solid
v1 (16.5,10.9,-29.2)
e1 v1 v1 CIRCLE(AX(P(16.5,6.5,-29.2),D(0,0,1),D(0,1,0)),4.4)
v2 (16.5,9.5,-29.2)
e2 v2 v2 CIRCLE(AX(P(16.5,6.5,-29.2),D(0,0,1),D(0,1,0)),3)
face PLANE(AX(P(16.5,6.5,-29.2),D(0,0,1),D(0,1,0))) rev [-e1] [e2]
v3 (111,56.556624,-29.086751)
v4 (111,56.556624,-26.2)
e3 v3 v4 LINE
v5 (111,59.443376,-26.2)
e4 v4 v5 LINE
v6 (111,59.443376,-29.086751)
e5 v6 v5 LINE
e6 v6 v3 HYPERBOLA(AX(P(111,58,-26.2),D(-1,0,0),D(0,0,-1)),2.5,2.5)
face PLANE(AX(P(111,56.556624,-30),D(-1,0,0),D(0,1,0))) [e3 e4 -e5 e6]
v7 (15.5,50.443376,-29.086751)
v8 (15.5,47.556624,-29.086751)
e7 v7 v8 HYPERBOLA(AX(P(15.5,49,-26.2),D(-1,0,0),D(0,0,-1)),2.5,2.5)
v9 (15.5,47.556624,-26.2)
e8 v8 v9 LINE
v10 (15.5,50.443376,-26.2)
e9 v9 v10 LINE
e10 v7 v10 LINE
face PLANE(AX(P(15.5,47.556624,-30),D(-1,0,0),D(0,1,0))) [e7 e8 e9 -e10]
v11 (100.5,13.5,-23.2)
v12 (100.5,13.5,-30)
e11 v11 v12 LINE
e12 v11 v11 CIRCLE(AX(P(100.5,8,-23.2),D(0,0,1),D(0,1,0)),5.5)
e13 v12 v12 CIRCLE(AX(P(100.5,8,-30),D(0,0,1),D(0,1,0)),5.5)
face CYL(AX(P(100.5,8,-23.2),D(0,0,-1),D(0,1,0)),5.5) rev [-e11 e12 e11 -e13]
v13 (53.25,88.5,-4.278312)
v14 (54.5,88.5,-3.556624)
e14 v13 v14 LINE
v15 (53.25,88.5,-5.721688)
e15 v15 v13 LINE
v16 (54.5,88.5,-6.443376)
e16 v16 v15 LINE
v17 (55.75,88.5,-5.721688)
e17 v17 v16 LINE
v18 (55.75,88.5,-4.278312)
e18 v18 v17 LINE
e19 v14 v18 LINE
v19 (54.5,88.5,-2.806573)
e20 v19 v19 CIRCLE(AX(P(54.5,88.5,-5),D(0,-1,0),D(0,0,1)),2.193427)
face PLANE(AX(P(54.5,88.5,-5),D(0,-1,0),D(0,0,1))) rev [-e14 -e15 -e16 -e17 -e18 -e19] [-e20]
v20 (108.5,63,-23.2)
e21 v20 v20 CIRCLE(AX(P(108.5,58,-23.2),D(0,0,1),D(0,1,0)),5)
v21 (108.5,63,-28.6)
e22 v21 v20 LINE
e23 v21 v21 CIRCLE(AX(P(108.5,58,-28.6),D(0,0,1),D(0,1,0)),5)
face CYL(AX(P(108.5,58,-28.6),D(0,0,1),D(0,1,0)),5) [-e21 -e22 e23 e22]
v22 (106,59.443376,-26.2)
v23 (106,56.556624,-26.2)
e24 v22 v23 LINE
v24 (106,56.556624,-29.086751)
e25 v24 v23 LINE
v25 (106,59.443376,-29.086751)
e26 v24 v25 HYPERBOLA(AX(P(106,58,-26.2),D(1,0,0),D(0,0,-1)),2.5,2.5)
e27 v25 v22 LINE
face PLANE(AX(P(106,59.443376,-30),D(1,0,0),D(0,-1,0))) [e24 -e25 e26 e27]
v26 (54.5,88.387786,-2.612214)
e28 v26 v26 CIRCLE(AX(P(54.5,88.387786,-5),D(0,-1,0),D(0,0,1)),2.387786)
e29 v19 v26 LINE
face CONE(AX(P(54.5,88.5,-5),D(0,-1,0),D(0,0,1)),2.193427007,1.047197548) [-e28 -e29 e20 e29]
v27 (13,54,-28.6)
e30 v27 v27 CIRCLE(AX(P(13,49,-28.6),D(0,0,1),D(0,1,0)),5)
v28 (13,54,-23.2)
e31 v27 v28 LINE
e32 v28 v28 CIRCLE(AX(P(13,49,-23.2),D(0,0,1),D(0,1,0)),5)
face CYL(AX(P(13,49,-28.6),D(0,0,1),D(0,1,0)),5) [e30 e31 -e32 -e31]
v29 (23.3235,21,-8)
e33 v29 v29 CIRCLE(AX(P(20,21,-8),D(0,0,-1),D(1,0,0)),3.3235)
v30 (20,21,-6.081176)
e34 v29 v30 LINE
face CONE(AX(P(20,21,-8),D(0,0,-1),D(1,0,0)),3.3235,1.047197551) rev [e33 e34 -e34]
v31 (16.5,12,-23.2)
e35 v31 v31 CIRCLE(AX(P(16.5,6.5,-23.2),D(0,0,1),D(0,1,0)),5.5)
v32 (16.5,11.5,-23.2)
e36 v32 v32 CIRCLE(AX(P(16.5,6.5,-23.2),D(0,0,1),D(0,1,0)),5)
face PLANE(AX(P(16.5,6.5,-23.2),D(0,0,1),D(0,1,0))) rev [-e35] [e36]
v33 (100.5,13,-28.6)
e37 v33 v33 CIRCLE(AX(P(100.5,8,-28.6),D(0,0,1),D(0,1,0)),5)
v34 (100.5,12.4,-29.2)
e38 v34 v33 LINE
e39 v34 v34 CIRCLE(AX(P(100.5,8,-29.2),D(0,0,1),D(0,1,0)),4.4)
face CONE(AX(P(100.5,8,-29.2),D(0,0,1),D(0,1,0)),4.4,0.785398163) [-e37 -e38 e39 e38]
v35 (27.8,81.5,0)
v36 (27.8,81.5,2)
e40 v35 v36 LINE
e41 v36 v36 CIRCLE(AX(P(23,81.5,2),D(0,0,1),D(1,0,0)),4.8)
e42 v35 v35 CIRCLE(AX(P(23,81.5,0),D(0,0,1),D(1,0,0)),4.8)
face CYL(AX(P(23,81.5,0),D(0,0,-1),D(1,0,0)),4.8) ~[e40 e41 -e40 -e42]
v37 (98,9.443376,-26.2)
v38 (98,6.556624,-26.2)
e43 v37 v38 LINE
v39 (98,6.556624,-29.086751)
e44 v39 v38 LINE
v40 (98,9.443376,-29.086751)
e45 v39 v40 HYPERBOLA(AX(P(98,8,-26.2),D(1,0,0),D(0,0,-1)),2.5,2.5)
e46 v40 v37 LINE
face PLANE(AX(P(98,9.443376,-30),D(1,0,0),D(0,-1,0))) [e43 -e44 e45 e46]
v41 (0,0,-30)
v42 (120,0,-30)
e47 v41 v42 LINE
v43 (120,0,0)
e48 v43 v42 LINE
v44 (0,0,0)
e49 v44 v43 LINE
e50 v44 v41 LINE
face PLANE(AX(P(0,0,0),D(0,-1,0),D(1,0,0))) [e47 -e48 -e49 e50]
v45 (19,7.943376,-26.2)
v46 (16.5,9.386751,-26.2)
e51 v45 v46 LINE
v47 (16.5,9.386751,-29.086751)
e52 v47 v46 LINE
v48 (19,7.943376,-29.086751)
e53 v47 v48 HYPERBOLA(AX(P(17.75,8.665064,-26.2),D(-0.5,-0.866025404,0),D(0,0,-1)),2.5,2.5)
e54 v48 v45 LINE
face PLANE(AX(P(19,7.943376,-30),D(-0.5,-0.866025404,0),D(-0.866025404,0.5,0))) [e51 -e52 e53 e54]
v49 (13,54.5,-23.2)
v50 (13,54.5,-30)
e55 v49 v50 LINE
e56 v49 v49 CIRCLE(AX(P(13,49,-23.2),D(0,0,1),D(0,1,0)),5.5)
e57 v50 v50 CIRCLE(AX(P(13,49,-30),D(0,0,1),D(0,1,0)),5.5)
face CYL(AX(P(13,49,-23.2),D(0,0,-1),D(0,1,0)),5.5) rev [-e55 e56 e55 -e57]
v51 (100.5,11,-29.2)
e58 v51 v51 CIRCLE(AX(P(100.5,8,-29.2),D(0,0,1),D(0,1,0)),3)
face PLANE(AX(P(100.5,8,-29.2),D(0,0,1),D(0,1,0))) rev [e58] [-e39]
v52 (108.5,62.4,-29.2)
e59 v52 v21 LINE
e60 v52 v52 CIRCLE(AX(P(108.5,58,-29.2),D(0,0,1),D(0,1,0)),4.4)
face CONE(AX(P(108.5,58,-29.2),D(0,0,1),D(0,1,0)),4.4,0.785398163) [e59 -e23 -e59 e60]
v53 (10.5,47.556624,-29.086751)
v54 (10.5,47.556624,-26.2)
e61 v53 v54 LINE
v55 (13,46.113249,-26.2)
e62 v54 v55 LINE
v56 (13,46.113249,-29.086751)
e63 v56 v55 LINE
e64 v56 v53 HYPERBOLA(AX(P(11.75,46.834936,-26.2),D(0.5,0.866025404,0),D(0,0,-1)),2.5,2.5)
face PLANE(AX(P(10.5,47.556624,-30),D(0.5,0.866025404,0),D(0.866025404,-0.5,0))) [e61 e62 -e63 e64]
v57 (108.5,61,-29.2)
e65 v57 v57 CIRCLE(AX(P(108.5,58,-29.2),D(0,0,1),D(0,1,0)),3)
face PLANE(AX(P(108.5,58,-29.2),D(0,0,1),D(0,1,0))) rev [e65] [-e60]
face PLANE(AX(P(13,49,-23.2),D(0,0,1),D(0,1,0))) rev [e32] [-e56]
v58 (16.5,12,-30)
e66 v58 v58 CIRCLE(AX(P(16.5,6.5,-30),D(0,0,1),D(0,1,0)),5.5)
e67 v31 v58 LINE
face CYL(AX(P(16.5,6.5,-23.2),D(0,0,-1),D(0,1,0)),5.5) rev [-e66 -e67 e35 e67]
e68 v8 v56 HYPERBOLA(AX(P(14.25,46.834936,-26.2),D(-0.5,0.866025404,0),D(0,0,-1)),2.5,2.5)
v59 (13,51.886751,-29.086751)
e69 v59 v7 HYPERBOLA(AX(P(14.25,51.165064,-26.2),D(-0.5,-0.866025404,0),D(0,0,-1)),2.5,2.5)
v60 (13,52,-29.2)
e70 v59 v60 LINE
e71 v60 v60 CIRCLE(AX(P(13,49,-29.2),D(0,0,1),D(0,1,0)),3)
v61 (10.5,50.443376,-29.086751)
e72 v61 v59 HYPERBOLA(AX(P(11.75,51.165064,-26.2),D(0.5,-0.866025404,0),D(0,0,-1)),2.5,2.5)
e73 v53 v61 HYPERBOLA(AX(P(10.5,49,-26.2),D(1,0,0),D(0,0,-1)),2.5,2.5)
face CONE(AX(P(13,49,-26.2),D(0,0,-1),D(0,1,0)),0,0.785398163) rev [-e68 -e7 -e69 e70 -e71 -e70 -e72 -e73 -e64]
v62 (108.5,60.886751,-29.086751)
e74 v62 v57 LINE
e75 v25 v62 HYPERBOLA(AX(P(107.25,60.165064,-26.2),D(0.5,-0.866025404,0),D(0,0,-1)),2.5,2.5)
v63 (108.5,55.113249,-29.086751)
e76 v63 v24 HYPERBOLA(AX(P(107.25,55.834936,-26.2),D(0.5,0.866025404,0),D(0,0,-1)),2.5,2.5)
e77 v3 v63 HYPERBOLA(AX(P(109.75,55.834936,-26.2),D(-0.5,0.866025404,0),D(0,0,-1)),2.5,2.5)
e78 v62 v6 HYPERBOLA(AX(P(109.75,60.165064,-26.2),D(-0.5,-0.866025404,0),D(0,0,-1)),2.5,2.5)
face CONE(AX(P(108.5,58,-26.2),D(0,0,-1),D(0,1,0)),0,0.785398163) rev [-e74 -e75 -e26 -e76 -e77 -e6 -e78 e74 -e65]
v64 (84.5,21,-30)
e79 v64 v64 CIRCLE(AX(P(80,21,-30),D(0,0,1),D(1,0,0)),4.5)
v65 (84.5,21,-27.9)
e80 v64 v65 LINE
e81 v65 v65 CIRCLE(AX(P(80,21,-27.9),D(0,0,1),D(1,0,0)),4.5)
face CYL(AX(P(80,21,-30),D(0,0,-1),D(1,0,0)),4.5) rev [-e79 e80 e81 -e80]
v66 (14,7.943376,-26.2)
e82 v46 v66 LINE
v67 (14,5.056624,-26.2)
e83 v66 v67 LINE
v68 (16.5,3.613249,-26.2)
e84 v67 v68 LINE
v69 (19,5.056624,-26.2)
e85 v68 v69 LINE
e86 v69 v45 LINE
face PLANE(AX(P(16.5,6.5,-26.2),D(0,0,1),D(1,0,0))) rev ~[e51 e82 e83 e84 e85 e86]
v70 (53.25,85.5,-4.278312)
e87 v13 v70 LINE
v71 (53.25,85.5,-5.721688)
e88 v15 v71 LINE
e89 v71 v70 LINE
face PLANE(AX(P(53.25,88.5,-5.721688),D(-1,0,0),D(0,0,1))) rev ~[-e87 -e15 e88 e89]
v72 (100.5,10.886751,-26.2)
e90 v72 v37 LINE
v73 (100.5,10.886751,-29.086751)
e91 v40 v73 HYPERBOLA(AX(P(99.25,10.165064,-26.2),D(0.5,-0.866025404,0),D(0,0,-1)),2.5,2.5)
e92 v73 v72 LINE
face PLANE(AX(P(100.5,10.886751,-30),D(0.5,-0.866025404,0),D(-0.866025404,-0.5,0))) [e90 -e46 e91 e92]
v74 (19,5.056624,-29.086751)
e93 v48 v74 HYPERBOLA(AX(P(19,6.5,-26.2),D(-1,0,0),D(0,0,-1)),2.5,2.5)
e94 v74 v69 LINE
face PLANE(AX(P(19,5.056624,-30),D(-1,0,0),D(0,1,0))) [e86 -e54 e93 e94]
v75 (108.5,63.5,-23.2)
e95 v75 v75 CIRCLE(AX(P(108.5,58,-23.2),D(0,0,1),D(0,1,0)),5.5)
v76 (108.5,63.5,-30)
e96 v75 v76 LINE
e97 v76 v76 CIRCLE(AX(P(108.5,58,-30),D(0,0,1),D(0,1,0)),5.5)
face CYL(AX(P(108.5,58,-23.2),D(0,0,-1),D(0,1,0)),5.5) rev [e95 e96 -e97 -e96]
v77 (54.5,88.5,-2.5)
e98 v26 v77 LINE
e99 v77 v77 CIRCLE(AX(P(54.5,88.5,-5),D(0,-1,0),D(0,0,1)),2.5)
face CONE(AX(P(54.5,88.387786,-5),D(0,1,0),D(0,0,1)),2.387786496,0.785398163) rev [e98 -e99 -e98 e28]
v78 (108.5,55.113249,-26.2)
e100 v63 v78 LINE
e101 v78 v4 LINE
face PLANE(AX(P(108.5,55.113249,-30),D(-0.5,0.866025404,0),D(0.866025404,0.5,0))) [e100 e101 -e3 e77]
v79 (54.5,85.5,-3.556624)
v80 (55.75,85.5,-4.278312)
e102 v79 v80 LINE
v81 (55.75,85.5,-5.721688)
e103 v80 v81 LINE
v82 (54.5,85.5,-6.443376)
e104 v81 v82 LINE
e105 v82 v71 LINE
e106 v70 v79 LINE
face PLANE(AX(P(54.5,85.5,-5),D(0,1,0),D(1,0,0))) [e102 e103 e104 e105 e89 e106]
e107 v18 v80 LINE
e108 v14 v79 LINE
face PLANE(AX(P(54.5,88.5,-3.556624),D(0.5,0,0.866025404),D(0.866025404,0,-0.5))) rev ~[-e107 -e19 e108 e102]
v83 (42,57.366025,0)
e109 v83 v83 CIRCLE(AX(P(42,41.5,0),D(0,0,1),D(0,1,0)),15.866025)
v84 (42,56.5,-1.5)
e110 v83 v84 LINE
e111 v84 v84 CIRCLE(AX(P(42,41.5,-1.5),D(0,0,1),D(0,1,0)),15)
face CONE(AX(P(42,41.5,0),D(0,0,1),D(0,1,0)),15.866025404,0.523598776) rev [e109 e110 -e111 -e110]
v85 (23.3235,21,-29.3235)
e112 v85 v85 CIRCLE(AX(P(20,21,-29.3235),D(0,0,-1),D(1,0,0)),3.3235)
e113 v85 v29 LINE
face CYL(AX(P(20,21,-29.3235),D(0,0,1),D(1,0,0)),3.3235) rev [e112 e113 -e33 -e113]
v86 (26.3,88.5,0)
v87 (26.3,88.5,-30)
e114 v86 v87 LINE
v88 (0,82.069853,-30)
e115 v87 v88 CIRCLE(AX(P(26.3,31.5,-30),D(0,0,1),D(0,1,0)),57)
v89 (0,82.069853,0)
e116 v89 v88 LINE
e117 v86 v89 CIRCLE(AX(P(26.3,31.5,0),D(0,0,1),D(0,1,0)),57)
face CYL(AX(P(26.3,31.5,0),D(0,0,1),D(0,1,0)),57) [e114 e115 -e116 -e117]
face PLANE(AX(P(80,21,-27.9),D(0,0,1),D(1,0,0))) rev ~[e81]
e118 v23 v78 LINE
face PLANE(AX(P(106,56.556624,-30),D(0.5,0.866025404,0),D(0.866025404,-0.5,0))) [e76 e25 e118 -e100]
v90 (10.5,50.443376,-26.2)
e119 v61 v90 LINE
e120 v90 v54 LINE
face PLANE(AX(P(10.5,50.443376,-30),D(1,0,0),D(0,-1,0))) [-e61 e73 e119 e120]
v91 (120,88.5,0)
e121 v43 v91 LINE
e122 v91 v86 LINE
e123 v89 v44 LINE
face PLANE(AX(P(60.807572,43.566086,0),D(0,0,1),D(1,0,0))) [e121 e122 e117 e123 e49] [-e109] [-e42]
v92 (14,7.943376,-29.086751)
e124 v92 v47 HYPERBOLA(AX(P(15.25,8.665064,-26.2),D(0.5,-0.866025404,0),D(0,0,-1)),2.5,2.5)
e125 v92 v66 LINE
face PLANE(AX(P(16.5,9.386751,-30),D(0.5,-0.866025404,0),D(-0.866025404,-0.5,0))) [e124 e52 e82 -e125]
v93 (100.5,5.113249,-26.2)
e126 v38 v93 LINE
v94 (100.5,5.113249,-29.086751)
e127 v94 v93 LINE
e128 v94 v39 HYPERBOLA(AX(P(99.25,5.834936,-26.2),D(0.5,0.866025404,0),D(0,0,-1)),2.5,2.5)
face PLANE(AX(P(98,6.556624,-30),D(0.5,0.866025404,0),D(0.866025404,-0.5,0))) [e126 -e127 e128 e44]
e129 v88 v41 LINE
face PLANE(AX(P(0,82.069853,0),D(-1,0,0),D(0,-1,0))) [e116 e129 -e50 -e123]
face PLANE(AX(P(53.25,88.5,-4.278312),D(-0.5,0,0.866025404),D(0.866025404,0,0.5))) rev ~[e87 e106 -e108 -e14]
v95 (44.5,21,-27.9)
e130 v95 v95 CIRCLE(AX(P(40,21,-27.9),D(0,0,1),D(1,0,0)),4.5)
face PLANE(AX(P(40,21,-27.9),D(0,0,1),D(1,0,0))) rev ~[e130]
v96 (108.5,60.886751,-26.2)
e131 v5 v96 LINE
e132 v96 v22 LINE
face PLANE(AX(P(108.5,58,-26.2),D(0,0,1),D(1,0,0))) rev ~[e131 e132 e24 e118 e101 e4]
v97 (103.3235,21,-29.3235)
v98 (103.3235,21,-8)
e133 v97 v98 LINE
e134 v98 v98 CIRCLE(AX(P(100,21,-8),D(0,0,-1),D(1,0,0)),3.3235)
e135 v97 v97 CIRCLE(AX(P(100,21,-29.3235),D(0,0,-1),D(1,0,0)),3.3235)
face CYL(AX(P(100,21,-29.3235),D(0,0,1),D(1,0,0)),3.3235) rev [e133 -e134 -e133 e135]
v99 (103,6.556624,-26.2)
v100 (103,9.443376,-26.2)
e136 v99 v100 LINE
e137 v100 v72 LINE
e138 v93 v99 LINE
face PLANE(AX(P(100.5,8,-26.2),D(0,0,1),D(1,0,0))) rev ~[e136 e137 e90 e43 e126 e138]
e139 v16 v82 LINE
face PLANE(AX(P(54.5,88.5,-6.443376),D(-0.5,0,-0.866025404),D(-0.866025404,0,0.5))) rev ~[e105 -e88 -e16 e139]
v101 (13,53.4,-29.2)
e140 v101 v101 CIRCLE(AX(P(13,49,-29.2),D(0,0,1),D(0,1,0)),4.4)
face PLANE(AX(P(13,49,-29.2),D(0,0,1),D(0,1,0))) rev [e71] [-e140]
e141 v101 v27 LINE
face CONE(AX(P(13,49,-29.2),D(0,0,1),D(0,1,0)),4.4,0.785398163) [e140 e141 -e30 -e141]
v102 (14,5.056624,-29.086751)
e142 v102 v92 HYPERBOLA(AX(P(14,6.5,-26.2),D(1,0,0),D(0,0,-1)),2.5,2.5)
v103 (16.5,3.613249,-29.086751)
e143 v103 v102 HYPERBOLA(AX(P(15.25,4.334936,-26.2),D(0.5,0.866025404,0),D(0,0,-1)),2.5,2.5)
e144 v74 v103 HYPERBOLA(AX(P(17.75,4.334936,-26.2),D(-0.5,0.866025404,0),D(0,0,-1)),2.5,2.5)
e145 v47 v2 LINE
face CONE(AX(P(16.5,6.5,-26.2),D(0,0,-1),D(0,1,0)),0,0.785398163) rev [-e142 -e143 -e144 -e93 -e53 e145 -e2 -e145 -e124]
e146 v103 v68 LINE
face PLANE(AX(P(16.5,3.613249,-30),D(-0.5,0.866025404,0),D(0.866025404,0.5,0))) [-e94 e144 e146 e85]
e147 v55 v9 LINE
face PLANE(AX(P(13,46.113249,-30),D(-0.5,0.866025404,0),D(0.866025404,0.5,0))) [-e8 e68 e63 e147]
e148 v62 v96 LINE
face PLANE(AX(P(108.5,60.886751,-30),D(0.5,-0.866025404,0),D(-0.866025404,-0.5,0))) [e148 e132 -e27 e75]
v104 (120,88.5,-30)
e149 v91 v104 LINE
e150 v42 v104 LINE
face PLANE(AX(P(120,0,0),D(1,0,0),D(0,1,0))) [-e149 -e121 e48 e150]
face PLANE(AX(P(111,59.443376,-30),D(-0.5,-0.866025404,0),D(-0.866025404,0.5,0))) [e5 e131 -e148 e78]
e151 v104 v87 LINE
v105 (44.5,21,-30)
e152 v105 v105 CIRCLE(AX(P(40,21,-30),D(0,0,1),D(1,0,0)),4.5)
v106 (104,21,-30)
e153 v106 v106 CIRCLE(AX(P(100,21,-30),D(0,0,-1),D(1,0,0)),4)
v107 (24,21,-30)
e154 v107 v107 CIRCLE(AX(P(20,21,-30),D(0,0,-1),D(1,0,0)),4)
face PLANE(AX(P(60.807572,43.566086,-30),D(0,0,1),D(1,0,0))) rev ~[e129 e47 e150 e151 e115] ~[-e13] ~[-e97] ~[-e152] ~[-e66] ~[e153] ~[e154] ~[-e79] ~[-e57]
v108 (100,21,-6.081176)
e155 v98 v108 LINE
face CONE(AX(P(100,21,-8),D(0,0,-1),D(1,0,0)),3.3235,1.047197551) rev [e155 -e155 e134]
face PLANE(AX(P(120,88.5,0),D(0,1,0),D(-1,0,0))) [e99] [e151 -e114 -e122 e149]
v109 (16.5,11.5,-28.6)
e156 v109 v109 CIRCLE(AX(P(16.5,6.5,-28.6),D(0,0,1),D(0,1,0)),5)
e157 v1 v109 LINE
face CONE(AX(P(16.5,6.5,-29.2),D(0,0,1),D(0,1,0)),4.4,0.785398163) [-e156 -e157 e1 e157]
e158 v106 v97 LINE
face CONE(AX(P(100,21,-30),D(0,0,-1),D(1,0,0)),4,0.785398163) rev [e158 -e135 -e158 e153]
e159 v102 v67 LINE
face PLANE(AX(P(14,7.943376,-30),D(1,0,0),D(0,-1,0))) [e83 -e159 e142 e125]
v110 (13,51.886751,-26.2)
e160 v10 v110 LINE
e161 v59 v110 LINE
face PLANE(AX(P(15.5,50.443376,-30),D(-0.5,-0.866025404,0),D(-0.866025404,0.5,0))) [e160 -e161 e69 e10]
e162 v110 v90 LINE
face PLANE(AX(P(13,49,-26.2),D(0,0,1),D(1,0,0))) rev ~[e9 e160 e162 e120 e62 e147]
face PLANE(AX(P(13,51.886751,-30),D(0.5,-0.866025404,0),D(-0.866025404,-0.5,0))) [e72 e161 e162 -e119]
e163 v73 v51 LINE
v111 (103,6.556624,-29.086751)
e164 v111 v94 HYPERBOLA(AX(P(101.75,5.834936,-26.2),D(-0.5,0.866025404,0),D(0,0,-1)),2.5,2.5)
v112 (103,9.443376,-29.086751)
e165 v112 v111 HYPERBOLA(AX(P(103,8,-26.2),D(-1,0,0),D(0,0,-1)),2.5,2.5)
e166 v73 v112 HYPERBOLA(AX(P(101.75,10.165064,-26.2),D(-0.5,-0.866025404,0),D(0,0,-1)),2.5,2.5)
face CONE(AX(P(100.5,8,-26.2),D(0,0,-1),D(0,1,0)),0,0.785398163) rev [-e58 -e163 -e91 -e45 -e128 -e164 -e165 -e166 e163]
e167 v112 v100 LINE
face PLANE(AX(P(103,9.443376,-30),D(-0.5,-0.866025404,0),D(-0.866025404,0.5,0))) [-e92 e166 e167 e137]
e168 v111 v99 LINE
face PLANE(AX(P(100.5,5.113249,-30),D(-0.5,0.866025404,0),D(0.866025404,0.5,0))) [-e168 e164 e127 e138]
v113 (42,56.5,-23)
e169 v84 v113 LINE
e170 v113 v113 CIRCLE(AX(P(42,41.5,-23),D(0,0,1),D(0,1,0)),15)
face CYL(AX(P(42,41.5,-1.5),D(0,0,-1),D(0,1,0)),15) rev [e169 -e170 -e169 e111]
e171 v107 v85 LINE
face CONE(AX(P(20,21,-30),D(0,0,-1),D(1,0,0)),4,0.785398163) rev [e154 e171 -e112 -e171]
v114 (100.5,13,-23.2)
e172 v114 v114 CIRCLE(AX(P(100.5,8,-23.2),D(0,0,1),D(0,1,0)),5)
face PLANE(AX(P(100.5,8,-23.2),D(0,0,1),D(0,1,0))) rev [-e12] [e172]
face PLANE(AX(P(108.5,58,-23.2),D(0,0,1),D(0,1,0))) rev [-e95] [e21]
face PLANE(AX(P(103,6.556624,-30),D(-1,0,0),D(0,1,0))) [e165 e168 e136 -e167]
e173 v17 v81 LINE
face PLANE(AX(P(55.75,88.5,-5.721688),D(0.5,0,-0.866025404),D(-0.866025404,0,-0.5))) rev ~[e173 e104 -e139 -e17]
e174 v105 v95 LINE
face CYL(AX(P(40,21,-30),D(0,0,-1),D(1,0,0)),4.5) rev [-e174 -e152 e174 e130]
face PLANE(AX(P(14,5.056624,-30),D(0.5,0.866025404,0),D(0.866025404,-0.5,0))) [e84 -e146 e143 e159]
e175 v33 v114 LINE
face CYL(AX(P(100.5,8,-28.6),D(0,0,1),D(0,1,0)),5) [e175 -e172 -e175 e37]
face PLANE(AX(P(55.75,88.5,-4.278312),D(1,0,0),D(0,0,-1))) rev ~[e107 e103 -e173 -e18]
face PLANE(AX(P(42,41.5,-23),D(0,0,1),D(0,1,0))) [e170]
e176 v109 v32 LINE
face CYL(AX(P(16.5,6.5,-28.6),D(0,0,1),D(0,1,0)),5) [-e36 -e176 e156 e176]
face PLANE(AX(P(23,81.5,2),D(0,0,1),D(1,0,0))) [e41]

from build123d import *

# Parameters (mm, degrees)
BOSS_EXTRUDE1_DEPTH = 30
CUT_EXTRUDE1_DEPTH  = 3.8
CUT_EXTRUDE2_DEPTH  = 3.8
CUT_EXTRUDE3_DEPTH  = 3.8
CUT_EXTRUDE4_DEPTH  = 3.8
SKETCH11_R          = 4.5
CUT_EXTRUDE5_DEPTH  = 2.1
SKETCH12_R          = 4.5
CUT_EXTRUDE6_DEPTH  = 2.1
SKETCH15_R          = 4.8
BOSS_EXTRUDE2_DEPTH = 2
CUT_EXTRUDE7_DEPTH  = 3


with BuildPart() as part:
    # Sketch1 → Boss-Extrude1 (new body)
    with BuildSketch(Plane.XY):
        with BuildLine():
            Line((0, 0), (120, 0))
            Line((120, 0), (120, 88.5))
            Line((120, 88.5), (26.3, 88.5))
            ThreePointArc((26.3, 88.5), (12.762673874, 86.869132207), (0, 82.069852679))
            Line((0, 82.069852679), (0, 0))
        make_face()
    extrude(amount=-BOSS_EXTRUDE1_DEPTH)

    # Sketch2 → Cut-Revolve1 (revolve, cut)
    with BuildSketch(Plane(origin=(42, 0, 0), x_dir=(0, 0, -1), z_dir=(1, 0, 0))):
        Polygon((0, 41.5), (0, 57.366025404), (1.5, 56.5), (23, 56.5), (23, 41.5), align=None)
    revolve(axis=Axis((42, 41.5, -23), (0, 0, 1)), mode=Mode.SUBTRACT)

    # Sketch3 → Cut-Revolve2 (revolve, cut)
    with BuildSketch(Plane(origin=(100.5, 0, 0), x_dir=(0, 0, -1), z_dir=(1, 0, 0))):
        Polygon((26.2, 8), (29.2, 11), (29.2, 12.4), (28.6, 13), (23.2, 13), (23.2, 13.5), (30, 13.5), (30, 8), align=None)
    revolve(axis=Axis((100.5, 8, -30), (0, 0, 1)), mode=Mode.SUBTRACT)

    # Sketch4 → Cut-Revolve3 (revolve, cut)
    with BuildSketch(Plane(origin=(16.5, 0, 0), x_dir=(0, 0, -1), z_dir=(1, 0, 0))):
        Polygon((26.2, 6.5), (29.2, 9.5), (29.2, 10.9), (28.6, 11.5), (23.2, 11.5), (23.2, 12), (30, 12), (30, 6.5), align=None)
    revolve(axis=Axis((16.5, 6.5, -30), (0, 0, 1)), mode=Mode.SUBTRACT)

    # Sketch5 → Cut-Revolve4 (revolve, cut)
    with BuildSketch(Plane(origin=(108.5, 0, 0), x_dir=(0, 0, -1), z_dir=(1, 0, 0))):
        Polygon((26.2, 58), (29.2, 61), (29.2, 62.4), (28.6, 63), (23.2, 63), (23.2, 63.5), (30, 63.5), (30, 58), align=None)
    revolve(axis=Axis((108.5, 58, -30), (0, 0, 1)), mode=Mode.SUBTRACT)

    # Sketch6 → Cut-Revolve5 (revolve, cut)
    with BuildSketch(Plane(origin=(13, 0, 0), x_dir=(0, 0, -1), z_dir=(1, 0, 0))):
        Polygon((26.2, 49), (29.2, 52), (29.2, 53.4), (28.6, 54), (23.2, 54), (23.2, 54.5), (30, 54.5), (30, 49), align=None)
    revolve(axis=Axis((13, 49, -30), (0, 0, 1)), mode=Mode.SUBTRACT)

    # Sketch7 → Cut-Extrude1 (cut)
    with BuildSketch(Plane.XY.offset(-30)):
        Polygon((98, 9.443375673), (98, 6.556624327), (100.5, 5.113248654), (103, 6.556624327), (103, 9.443375673), (100.5, 10.886751346), align=None)
    extrude(amount=CUT_EXTRUDE1_DEPTH, mode=Mode.SUBTRACT)

    # Sketch8 → Cut-Extrude2 (cut)
    with BuildSketch(Plane.XY.offset(-30)):
        Polygon((14, 7.943375673), (14, 5.056624327), (16.5, 3.613248654), (19, 5.056624327), (19, 7.943375673), (16.5, 9.386751346), align=None)
    extrude(amount=CUT_EXTRUDE2_DEPTH, mode=Mode.SUBTRACT)

    # Sketch9 → Cut-Extrude3 (cut)
    with BuildSketch(Plane.XY.offset(-30)):
        Polygon((106, 59.443375673), (106, 56.556624327), (108.5, 55.113248654), (111, 56.556624327), (111, 59.443375673), (108.5, 60.886751346), align=None)
    extrude(amount=CUT_EXTRUDE3_DEPTH, mode=Mode.SUBTRACT)

    # Sketch10 → Cut-Extrude4 (cut)
    with BuildSketch(Plane.XY.offset(-30)):
        Polygon((10.5, 50.443375673), (10.5, 47.556624327), (13, 46.113248654), (15.5, 47.556624327), (15.5, 50.443375673), (13, 51.886751346), align=None)
    extrude(amount=CUT_EXTRUDE4_DEPTH, mode=Mode.SUBTRACT)

    # Sketch11 → Cut-Extrude5 (cut)
    with BuildSketch(Plane.XY.offset(-30)):
        with Locations((80, 21)):
            Circle(SKETCH11_R)
    extrude(amount=CUT_EXTRUDE5_DEPTH, mode=Mode.SUBTRACT)

    # Sketch12 → Cut-Extrude6 (cut)
    with BuildSketch(Plane.XY.offset(-30)):
        with Locations((40, 21)):
            Circle(SKETCH12_R)
    extrude(amount=CUT_EXTRUDE6_DEPTH, mode=Mode.SUBTRACT)

    # Sketch13 → Cut-Revolve6 (revolve, cut)
    with BuildSketch(Plane(origin=(0, 21, 0), x_dir=(1, 0, 0), z_dir=(0, 1, 0))):
        Polygon((100, 30), (104, 30), (103.3235, 29.3235), (103.3235, 8), (100, 6.08117638), align=None)
    revolve(axis=Axis((100, 21, -6.08117638), (0, 0, -1)), mode=Mode.SUBTRACT)

    # Sketch14 → Cut-Revolve7 (revolve, cut)
    with BuildSketch(Plane(origin=(0, 21, 0), x_dir=(1, 0, 0), z_dir=(0, 1, 0))):
        Polygon((20, 30), (24, 30), (23.3235, 29.3235), (23.3235, 8), (20, 6.08117638), align=None)
    revolve(axis=Axis((20, 21, -6.08117638), (0, 0, -1)), mode=Mode.SUBTRACT)

    # Sketch15 → Boss-Extrude2 (add)
    with BuildSketch(Plane.XY):
        with Locations((23, 81.5)):
            Circle(SKETCH15_R)
    extrude(amount=BOSS_EXTRUDE2_DEPTH)

    # Sketch16 → Cut-Revolve8 (revolve, cut)
    with BuildSketch(Plane(origin=(54.5, 0, 0), x_dir=(0, 0, -1), z_dir=(1, 0, 0))):
        Polygon((5, 88.5), (2.806572993, 88.5), (2.612213504, 88.387786496), (2.5, 88.5), (2.5, 89.5), (5, 89.5), align=None)
    revolve(axis=Axis((54.5, 89.5, -5), (0, -1, 0)), mode=Mode.SUBTRACT)

    # Sketch17 → Cut-Extrude7 (cut)
    with BuildSketch(Plane(origin=(0, 88.5, 0), x_dir=(1, 0, 0), z_dir=(0, 1, 0))):
        Polygon((53.25, 5.721687836), (53.25, 4.278312164), (54.5, 3.556624327), (55.75, 4.278312164), (55.75, 5.721687836), (54.5, 6.443375673), align=None)
    extrude(amount=-CUT_EXTRUDE7_DEPTH, mode=Mode.SUBTRACT)


solid = part.part
